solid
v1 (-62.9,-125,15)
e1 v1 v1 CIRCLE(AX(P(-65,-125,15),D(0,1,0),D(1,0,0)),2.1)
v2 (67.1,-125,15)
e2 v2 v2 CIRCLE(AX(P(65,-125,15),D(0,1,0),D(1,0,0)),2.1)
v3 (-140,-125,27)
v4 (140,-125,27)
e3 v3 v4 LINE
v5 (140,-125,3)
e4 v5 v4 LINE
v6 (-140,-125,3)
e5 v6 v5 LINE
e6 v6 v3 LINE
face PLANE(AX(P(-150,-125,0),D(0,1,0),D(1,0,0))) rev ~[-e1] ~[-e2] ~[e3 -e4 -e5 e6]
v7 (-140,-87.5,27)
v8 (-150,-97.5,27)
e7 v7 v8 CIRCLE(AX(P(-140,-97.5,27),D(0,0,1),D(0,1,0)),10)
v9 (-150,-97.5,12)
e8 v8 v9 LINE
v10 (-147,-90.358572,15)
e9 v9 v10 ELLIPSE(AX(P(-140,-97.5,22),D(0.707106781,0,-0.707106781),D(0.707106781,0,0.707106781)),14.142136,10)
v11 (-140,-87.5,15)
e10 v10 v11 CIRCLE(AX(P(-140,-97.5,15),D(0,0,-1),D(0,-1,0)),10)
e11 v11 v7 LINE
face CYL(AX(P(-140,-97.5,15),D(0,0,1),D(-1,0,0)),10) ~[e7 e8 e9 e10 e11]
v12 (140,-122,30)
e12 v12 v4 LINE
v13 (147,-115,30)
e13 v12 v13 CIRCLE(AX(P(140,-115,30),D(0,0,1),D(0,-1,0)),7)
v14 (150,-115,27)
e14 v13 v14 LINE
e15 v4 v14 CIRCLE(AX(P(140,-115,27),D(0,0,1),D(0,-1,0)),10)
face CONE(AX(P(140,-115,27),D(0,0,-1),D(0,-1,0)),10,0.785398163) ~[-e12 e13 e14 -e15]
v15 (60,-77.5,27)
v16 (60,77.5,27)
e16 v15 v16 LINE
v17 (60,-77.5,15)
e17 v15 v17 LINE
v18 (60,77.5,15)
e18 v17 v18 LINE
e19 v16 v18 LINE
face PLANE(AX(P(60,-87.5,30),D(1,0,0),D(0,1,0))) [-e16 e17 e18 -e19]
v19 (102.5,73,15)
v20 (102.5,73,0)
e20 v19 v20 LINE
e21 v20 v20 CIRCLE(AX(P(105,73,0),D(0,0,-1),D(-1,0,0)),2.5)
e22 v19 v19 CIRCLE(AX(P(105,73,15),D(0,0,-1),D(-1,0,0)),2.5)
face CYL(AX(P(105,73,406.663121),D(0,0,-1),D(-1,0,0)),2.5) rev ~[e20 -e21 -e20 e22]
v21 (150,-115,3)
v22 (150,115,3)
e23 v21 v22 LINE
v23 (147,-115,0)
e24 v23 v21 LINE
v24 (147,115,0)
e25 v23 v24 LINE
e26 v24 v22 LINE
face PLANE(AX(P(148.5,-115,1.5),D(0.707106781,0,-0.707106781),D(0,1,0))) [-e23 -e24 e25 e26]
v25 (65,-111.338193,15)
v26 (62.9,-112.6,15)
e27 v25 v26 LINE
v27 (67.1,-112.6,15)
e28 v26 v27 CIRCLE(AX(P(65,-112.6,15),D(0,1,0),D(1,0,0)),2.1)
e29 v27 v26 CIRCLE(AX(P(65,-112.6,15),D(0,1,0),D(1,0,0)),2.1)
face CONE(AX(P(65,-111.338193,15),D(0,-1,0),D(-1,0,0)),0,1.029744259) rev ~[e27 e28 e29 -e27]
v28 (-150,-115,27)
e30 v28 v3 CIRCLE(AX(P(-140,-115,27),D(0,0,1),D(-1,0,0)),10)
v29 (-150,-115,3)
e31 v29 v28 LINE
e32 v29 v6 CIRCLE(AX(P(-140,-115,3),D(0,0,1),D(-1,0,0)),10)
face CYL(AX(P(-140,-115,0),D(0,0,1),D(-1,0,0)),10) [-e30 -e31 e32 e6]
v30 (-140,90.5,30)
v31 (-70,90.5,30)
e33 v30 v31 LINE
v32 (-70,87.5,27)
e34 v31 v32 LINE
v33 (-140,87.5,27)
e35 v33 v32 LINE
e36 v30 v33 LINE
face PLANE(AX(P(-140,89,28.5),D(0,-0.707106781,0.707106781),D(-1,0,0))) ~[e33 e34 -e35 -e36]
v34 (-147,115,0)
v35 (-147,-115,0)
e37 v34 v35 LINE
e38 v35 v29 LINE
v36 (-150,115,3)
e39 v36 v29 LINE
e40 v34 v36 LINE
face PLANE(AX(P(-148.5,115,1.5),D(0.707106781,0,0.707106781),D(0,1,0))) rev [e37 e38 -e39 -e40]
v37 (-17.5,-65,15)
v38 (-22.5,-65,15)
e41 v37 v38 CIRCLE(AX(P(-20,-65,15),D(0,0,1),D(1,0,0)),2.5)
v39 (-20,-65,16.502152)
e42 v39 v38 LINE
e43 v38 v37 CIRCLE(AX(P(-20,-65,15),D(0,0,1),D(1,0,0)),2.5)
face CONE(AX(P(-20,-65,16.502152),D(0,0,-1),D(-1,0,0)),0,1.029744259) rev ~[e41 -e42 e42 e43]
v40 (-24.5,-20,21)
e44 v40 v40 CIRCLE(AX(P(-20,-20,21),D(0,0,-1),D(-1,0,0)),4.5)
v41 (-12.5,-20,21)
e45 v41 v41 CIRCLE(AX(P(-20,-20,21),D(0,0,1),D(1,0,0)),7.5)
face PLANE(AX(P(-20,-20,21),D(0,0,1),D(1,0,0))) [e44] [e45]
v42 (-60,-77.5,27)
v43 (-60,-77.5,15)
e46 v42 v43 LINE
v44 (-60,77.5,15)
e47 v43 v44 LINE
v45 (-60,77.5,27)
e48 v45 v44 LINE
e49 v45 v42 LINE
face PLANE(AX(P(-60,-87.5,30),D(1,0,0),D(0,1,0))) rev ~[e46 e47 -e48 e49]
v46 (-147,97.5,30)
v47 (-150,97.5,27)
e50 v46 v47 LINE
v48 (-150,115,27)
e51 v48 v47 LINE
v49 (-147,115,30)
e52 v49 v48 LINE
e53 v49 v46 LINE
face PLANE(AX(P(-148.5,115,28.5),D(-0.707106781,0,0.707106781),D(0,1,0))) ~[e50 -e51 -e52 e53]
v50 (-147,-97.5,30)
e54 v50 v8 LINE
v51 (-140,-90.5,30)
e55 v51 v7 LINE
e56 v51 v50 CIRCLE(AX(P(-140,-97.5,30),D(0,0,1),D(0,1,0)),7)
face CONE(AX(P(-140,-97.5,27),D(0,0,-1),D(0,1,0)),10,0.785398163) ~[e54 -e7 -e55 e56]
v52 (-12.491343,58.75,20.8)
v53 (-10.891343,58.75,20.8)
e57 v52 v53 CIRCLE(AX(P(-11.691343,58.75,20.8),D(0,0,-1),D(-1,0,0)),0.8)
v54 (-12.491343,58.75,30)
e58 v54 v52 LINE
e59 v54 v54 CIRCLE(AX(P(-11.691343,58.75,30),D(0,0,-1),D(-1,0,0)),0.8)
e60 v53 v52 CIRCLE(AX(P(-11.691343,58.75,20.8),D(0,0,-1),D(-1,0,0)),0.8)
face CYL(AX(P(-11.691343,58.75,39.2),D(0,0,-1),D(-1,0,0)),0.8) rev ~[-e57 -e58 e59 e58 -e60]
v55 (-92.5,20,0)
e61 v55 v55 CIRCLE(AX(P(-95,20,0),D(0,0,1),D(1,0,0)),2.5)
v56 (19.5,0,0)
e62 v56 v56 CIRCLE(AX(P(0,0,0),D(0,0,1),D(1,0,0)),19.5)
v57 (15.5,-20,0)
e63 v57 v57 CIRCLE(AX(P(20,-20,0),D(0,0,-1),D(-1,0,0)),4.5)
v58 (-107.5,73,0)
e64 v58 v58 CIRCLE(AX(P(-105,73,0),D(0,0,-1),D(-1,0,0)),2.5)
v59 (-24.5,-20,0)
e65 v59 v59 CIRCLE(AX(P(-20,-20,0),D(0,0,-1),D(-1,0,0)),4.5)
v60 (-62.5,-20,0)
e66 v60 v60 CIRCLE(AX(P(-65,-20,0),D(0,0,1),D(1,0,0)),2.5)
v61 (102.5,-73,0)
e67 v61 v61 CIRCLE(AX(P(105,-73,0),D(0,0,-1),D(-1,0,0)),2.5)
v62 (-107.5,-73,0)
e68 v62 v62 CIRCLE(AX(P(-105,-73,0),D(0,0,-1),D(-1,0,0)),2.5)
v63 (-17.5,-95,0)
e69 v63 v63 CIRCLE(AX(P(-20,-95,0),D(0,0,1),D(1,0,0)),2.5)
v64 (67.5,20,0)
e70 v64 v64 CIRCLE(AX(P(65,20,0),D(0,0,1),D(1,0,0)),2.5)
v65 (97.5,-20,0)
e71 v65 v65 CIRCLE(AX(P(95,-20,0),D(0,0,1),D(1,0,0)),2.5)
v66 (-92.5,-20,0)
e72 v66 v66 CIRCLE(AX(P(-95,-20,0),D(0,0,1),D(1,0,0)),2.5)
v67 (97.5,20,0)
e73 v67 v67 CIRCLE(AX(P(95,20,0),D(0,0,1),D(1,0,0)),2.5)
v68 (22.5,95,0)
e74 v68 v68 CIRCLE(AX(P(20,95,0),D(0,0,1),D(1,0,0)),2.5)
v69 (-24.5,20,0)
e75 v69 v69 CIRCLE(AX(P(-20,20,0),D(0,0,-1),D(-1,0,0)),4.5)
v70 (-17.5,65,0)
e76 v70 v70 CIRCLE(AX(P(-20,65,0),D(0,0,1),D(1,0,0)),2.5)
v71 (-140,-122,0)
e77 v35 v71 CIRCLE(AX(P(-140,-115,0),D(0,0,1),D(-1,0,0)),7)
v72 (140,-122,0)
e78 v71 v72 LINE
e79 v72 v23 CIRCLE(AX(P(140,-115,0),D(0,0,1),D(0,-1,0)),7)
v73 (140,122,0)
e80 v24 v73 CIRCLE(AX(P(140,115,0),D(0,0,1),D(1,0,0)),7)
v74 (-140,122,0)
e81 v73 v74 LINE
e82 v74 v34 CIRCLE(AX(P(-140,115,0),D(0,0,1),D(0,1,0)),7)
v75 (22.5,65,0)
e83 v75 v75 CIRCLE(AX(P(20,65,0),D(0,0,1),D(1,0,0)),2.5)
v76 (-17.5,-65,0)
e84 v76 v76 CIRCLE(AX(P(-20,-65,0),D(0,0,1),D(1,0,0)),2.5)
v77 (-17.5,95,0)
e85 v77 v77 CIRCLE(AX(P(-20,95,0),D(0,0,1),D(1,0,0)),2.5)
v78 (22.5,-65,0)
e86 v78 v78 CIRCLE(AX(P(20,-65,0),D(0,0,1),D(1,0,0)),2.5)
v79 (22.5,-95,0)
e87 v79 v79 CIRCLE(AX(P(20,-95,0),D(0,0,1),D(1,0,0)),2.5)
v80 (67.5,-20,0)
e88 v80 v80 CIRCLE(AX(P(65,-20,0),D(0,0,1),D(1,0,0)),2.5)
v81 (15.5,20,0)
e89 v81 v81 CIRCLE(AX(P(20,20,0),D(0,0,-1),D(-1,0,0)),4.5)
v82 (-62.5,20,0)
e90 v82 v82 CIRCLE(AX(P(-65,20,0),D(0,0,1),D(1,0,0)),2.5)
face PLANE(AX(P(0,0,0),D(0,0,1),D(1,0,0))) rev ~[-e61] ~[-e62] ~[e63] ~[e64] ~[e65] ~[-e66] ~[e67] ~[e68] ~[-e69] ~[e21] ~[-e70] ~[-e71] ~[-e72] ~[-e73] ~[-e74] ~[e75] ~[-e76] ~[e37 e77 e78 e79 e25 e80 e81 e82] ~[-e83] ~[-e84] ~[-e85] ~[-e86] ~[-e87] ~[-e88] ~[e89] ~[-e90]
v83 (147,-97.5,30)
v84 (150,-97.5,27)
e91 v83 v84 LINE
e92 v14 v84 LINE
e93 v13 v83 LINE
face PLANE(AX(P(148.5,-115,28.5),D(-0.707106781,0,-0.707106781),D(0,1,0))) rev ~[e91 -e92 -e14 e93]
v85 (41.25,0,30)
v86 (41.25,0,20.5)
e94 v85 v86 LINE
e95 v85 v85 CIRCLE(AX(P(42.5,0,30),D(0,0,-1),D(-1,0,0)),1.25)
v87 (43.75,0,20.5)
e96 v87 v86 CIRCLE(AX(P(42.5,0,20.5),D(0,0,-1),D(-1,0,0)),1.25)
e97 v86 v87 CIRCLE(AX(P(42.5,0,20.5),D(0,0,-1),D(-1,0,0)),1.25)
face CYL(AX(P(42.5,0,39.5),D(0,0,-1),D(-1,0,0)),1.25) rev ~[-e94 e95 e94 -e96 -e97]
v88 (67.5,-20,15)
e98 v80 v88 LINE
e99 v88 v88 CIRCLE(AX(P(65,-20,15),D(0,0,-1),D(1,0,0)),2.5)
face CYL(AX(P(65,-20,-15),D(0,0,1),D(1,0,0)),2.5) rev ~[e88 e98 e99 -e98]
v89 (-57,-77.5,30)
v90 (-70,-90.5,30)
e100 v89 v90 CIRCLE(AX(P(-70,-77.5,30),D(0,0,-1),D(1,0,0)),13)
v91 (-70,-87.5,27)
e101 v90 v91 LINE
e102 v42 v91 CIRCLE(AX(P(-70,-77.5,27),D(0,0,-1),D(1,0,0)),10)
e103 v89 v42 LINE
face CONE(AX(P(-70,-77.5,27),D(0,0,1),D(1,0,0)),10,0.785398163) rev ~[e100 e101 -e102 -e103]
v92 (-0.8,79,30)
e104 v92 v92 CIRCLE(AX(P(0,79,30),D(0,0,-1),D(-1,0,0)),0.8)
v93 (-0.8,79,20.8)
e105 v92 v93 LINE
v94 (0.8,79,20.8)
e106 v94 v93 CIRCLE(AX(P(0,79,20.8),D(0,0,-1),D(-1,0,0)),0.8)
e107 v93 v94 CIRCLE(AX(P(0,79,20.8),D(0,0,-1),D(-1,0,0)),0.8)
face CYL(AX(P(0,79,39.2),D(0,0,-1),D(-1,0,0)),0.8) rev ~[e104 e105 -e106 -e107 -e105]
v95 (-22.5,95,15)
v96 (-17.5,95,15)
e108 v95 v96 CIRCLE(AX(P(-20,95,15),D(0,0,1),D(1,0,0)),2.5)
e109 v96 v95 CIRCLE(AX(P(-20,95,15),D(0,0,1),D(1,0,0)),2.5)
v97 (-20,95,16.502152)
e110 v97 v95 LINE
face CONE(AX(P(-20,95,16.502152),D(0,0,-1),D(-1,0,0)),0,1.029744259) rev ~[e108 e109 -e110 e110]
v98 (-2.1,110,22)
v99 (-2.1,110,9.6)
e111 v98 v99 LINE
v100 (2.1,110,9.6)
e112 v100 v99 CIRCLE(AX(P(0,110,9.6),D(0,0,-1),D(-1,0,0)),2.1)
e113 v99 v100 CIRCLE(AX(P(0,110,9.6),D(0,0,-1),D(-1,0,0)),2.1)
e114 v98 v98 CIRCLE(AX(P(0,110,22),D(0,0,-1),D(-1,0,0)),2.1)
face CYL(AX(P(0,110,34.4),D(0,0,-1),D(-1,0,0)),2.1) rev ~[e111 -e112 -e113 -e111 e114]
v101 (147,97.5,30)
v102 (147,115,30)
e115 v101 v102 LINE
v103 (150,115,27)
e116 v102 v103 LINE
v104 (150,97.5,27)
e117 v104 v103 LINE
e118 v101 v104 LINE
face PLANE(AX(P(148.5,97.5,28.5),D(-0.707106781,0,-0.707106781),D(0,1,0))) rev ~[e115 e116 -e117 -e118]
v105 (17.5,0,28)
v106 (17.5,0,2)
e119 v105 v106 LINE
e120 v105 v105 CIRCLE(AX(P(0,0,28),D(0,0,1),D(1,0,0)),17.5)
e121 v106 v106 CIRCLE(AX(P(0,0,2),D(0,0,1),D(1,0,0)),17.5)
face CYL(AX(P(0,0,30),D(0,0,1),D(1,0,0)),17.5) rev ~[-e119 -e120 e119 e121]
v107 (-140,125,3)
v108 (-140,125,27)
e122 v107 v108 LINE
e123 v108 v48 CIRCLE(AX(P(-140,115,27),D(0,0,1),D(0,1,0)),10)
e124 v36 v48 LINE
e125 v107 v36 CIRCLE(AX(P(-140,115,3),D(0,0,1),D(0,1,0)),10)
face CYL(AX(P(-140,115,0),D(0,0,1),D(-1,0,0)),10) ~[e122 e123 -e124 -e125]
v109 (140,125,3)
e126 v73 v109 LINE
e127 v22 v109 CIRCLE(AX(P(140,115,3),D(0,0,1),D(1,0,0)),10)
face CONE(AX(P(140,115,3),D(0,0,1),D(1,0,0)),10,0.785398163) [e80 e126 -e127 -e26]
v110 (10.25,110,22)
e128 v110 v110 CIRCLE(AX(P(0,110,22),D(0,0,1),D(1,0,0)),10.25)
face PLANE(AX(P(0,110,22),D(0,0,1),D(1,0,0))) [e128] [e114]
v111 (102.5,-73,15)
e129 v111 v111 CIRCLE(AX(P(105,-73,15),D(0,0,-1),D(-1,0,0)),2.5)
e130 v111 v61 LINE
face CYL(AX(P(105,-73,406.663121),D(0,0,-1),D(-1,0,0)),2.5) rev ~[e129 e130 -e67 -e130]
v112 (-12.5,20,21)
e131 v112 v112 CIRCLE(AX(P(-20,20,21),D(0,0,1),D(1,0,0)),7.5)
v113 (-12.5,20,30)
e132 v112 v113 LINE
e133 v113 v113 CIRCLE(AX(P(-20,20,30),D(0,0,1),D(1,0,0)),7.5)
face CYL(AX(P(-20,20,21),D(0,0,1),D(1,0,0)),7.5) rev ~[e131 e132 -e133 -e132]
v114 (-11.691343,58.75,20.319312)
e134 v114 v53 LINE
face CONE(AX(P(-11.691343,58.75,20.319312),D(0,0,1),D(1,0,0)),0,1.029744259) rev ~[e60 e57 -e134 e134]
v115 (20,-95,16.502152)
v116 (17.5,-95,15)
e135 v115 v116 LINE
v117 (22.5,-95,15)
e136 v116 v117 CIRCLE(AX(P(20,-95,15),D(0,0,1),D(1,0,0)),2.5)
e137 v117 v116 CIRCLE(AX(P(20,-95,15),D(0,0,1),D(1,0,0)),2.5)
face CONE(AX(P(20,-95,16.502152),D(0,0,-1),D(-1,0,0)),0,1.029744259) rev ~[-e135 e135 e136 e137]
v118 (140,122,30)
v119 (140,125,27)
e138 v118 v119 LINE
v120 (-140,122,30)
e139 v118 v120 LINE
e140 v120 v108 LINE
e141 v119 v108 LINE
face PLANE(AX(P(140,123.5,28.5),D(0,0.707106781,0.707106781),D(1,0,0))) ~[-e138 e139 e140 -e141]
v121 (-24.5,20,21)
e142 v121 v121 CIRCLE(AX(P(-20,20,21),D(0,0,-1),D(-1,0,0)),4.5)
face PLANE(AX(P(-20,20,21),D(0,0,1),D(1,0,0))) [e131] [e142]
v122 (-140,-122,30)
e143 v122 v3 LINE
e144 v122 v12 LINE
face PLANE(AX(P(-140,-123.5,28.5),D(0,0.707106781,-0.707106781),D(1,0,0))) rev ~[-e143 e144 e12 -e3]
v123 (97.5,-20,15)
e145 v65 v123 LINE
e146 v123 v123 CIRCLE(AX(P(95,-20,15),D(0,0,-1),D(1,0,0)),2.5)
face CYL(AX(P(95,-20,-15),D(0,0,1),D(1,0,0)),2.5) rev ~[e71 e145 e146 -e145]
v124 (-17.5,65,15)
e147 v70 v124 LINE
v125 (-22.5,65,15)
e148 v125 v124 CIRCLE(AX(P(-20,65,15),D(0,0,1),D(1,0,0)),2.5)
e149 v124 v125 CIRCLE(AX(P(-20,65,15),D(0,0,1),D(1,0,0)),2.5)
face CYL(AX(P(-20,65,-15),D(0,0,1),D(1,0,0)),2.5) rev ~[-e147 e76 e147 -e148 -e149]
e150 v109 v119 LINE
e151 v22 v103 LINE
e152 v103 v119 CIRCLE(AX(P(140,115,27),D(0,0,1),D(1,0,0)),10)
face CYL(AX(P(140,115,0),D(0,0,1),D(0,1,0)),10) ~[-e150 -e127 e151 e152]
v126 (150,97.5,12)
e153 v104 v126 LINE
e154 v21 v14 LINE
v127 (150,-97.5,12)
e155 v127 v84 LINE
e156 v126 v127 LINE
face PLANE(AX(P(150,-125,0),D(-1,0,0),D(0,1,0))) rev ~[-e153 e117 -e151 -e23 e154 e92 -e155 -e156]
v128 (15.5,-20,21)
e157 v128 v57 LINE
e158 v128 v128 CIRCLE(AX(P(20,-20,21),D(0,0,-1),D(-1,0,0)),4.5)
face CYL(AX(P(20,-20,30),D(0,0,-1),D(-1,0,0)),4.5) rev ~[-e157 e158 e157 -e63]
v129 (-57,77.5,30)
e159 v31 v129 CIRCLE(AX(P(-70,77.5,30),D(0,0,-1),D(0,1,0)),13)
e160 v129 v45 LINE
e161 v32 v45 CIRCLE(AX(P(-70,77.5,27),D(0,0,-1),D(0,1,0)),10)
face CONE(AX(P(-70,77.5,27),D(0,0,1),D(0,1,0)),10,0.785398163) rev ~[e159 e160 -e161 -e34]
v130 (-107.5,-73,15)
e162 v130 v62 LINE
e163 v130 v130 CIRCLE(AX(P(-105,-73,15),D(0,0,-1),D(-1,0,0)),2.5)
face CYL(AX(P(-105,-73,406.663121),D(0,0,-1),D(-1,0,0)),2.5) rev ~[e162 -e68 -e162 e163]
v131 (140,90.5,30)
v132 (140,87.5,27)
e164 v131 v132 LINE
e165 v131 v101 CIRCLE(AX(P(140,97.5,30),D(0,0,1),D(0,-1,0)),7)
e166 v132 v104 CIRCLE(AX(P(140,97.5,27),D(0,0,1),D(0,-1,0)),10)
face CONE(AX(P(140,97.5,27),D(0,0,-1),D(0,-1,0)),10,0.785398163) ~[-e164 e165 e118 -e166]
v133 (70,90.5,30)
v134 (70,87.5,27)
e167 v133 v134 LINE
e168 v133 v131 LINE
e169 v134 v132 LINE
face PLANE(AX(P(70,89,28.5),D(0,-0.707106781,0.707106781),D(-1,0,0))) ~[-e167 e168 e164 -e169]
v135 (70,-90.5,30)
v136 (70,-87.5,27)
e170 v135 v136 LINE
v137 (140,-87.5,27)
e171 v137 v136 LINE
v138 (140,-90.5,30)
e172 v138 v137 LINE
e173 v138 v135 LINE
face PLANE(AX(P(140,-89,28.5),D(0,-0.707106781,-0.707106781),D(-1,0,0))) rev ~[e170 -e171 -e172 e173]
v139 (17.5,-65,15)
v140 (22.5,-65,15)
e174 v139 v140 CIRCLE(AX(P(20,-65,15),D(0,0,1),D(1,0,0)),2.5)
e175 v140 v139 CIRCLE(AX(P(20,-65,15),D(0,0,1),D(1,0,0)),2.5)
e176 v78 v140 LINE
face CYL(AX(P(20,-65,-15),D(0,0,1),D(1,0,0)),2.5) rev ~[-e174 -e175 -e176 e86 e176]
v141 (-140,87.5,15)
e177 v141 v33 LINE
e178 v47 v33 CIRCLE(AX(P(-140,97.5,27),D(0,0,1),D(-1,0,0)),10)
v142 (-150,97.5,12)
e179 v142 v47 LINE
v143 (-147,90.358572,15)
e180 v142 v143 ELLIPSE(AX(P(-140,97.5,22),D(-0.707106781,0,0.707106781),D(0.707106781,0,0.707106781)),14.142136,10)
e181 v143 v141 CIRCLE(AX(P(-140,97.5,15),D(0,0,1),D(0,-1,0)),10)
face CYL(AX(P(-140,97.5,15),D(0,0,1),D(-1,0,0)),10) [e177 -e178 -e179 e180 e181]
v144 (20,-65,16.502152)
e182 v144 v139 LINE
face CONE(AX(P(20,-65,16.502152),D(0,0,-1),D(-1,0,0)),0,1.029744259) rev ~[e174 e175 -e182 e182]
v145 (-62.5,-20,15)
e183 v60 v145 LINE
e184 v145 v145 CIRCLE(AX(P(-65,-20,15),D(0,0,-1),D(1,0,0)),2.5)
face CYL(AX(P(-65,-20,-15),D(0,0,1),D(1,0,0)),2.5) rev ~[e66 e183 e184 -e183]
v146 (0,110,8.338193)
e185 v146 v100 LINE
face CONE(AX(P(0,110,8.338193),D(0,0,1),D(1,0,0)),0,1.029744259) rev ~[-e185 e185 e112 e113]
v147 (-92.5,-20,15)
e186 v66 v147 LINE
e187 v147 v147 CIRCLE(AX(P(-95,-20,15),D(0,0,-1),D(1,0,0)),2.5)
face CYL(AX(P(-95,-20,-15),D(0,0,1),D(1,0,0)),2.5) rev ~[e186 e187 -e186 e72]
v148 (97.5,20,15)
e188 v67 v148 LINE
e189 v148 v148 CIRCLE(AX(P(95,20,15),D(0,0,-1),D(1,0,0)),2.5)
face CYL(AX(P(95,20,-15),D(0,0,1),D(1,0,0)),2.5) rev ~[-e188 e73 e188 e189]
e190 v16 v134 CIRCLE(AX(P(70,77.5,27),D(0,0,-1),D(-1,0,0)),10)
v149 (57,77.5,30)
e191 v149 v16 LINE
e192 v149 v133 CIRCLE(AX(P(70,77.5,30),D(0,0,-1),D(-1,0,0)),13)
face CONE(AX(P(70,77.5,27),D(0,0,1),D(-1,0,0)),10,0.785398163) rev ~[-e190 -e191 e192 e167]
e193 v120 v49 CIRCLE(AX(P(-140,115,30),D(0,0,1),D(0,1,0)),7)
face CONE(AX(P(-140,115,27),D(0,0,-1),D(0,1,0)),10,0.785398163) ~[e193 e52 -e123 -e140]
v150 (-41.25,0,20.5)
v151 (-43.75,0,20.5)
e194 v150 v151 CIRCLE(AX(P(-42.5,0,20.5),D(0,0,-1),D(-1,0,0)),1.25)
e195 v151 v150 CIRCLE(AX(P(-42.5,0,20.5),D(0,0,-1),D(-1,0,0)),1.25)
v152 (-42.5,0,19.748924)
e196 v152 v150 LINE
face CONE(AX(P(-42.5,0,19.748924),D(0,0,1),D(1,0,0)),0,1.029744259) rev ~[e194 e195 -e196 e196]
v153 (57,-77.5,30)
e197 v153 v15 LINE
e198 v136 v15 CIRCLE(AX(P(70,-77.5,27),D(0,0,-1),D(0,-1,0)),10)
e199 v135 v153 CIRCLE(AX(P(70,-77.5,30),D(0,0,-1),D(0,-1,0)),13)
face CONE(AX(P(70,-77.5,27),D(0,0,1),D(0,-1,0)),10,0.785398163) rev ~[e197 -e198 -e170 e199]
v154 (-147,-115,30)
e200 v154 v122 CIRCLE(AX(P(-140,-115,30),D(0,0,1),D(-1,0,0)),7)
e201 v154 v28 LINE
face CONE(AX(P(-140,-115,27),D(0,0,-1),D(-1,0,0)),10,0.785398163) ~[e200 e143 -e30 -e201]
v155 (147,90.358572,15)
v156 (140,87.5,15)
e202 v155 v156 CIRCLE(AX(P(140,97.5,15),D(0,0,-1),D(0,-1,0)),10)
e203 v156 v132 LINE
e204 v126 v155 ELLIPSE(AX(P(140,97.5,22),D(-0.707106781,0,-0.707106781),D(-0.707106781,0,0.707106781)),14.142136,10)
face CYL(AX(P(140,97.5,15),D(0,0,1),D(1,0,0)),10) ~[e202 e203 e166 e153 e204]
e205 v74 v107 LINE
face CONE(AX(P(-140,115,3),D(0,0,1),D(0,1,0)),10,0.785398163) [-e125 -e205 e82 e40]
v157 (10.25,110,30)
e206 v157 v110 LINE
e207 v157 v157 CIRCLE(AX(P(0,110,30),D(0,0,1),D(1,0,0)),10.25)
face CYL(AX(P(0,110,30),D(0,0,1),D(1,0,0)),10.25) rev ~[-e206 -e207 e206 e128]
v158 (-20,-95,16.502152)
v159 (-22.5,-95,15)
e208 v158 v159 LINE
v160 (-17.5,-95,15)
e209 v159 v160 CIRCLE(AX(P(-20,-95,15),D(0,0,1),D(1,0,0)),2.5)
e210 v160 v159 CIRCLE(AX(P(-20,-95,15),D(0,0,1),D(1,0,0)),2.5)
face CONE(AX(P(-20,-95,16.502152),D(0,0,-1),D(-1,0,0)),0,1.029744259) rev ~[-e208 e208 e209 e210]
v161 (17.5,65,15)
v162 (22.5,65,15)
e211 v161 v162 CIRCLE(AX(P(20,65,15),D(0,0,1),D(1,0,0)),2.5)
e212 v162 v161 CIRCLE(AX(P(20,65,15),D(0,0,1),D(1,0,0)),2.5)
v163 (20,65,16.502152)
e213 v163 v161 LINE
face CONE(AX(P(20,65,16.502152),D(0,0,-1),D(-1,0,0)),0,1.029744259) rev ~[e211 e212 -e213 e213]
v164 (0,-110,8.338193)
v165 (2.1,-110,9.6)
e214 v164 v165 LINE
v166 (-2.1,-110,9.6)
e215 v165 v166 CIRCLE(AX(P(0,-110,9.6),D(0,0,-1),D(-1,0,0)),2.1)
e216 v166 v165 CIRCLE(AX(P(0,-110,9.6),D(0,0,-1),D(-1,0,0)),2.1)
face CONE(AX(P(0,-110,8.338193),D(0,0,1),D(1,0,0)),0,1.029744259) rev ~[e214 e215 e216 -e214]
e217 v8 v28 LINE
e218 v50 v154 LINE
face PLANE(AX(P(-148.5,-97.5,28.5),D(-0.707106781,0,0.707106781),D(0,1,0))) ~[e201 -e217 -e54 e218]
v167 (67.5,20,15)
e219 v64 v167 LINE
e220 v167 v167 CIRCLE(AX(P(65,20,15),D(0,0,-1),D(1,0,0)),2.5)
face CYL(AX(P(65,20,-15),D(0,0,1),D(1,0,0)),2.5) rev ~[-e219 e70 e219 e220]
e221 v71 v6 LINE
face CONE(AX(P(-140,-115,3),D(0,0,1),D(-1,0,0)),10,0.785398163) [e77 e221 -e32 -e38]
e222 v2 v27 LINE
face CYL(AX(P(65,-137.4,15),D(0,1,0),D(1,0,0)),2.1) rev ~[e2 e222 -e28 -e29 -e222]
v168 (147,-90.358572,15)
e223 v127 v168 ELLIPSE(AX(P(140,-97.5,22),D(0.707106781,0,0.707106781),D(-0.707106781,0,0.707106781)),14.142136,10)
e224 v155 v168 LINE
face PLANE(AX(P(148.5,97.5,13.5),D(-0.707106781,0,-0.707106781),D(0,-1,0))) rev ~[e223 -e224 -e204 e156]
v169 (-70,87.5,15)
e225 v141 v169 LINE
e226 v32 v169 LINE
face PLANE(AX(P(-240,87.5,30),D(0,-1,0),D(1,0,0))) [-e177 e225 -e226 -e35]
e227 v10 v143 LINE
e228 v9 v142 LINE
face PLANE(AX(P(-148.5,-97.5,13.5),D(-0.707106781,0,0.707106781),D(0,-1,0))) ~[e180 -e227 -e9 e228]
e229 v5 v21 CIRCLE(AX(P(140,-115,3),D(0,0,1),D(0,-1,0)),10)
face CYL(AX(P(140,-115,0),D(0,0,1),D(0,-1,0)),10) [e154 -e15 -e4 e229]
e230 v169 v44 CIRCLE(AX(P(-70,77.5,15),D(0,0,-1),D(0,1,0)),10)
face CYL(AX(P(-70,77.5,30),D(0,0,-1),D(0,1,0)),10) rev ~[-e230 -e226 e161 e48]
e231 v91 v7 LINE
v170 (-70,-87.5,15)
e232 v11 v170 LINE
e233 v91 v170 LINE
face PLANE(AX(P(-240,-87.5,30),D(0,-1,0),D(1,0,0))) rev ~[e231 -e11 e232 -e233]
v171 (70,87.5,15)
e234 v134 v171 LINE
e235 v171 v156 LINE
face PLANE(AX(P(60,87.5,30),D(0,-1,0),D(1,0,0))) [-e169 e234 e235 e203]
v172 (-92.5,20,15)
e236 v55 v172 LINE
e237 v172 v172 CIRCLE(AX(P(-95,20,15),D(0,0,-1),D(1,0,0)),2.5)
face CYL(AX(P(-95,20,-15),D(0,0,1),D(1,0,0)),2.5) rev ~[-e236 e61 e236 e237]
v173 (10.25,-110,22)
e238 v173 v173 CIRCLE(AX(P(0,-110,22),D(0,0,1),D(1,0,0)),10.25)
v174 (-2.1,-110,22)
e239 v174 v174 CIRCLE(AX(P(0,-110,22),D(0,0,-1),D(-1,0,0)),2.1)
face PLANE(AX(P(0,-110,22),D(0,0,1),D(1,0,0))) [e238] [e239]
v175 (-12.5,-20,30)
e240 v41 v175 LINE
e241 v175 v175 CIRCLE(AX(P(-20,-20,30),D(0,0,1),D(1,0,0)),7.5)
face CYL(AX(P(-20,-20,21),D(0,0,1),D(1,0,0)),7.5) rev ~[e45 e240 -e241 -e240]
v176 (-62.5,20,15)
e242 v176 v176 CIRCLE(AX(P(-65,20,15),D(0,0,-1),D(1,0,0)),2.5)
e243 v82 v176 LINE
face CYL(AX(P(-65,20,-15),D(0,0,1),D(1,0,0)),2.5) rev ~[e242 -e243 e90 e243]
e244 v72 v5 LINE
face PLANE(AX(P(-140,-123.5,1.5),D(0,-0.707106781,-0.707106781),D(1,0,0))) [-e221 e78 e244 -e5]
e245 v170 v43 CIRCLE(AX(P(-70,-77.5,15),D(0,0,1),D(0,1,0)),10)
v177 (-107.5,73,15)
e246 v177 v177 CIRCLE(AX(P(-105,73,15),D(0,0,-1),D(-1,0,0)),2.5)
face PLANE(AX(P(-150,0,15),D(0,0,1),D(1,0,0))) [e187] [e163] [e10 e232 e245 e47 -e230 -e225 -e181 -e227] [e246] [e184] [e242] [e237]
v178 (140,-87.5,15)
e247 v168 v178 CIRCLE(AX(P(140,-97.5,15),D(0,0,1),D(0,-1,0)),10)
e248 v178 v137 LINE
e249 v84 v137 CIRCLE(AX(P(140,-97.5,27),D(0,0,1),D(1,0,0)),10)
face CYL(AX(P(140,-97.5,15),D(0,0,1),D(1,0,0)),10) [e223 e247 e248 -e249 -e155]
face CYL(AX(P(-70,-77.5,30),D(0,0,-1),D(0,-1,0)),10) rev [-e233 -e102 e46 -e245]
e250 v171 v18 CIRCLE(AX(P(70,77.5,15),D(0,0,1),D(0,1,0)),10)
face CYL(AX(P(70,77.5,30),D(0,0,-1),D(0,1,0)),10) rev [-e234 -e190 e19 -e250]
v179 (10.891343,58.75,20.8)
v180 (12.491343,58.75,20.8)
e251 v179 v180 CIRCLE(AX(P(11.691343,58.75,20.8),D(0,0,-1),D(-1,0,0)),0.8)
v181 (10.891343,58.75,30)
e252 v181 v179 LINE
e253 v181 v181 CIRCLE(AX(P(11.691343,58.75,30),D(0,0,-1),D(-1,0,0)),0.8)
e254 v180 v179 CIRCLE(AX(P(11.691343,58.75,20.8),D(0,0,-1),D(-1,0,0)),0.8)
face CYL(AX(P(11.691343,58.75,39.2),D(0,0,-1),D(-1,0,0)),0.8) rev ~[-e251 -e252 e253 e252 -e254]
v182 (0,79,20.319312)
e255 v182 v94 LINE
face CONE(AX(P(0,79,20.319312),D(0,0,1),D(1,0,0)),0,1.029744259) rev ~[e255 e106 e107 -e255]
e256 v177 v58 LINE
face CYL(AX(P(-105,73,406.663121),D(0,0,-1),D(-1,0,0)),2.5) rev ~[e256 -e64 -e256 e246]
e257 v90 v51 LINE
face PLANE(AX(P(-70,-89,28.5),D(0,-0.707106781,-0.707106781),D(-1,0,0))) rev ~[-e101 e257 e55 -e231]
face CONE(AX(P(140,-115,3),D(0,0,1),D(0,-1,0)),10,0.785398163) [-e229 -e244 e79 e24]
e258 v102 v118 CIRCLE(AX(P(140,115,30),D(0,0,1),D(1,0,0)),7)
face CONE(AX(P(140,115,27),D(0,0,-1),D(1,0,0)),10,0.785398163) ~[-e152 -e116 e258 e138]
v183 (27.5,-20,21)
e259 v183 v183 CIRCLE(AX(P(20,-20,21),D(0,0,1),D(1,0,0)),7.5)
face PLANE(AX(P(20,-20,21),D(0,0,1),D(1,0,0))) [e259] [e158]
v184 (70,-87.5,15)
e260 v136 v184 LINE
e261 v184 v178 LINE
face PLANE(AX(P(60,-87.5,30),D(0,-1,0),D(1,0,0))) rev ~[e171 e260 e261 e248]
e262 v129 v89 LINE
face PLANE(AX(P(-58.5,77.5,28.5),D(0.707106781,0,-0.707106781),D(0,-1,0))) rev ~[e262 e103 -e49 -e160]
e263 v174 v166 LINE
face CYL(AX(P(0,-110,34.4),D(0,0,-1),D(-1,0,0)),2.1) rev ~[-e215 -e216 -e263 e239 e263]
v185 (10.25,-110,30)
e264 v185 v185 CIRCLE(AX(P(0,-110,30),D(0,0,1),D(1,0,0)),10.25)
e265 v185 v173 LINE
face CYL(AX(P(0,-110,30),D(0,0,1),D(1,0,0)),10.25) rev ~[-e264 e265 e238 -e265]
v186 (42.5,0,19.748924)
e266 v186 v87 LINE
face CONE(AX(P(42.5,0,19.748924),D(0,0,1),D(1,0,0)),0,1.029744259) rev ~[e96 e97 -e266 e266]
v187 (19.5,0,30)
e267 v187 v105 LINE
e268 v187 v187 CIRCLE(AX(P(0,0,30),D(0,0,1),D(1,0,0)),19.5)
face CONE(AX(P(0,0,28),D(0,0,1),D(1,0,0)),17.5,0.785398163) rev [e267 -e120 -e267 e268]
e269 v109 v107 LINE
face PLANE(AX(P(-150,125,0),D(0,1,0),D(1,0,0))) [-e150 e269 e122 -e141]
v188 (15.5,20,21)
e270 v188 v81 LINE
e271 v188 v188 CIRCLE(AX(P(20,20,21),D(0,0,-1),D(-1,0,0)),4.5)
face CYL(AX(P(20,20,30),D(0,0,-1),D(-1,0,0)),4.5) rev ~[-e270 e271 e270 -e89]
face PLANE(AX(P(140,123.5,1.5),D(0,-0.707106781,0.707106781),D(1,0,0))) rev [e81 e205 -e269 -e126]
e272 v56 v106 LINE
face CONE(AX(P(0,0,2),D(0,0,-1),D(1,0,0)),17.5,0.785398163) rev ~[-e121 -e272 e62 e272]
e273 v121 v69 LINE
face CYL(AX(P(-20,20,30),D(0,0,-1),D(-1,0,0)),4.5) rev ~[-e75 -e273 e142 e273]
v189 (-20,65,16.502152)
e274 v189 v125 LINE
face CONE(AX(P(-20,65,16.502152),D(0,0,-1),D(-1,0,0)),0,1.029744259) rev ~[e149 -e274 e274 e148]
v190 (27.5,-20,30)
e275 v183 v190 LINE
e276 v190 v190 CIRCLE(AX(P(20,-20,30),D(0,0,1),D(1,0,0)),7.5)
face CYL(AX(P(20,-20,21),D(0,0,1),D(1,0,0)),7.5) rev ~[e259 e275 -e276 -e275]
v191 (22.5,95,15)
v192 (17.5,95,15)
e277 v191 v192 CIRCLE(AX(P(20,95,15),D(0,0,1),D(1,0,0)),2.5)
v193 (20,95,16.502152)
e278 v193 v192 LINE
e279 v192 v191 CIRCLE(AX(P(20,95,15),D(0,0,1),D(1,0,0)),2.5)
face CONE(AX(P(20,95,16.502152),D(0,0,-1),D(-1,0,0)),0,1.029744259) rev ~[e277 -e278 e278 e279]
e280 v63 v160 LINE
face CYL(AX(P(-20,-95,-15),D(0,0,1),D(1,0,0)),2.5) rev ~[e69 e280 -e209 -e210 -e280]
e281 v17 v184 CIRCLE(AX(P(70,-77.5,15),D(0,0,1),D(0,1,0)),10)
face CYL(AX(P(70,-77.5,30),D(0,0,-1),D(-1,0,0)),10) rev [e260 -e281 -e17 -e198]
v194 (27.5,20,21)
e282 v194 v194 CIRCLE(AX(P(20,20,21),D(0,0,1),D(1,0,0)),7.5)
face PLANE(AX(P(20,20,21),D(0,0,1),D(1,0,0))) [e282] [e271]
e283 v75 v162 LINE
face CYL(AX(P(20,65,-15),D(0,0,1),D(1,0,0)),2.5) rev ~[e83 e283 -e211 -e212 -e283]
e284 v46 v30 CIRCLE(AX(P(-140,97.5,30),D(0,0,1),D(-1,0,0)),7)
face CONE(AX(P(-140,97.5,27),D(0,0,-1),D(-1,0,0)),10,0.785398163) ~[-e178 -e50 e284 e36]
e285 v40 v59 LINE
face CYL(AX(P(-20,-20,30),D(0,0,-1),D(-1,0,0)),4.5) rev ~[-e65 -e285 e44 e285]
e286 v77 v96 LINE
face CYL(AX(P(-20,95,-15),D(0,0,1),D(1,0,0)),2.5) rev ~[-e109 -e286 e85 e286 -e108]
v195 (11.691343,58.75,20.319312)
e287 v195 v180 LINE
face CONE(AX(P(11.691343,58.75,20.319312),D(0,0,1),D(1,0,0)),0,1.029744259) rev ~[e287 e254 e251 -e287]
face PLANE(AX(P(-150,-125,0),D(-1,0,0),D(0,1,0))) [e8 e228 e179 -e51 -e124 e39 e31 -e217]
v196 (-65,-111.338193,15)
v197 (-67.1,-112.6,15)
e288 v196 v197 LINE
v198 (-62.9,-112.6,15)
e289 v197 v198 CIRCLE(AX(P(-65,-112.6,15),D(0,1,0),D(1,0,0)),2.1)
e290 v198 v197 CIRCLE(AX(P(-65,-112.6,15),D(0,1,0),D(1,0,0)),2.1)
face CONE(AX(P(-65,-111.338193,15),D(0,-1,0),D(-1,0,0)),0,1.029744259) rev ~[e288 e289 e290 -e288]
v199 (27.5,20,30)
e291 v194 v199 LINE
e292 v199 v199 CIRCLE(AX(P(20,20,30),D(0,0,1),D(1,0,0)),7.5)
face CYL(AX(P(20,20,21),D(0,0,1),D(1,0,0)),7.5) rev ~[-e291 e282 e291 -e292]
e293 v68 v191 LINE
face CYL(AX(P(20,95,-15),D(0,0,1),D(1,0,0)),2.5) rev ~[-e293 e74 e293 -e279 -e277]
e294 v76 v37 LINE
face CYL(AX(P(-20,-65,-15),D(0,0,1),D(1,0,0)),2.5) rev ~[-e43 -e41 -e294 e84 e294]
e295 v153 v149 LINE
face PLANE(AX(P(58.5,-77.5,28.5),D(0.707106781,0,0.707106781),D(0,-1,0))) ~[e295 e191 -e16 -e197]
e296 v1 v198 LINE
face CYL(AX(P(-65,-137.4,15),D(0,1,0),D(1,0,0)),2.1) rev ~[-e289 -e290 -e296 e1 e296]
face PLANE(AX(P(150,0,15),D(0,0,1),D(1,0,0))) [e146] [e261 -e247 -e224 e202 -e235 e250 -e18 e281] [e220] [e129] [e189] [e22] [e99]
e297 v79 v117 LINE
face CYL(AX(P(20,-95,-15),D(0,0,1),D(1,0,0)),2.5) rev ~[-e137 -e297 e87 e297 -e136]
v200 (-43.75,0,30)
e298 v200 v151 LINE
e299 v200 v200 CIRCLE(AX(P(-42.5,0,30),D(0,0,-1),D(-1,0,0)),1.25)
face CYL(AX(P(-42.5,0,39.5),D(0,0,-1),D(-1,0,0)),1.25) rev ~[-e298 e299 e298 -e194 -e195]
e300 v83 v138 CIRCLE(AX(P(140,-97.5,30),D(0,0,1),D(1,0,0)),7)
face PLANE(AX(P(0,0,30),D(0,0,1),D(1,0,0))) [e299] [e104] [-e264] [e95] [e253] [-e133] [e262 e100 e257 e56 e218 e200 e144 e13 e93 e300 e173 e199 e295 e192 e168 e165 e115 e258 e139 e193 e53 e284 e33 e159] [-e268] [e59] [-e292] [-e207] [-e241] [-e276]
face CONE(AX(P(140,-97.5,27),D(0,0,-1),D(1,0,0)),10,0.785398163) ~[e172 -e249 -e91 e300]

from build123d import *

# Parameters (mm, degrees)
SKETCH_1_W                = 300
SKETCH_1_H                = 250
EXTRUDE_1_DEPTH           = 30
SKETCH_2_W                = 180
SKETCH_2_H                = 175
CUT_EXTRUDE_1_DEPTH       = 15
FILLET_1_R                = 10
HOLE_WIZARD_1_D           = 9
HOLE_WIZARD_1_CBORE_D     = 15
HOLE_WIZARD_1_CBORE_DEPTH = 9
CHAMFER_1_SIZE            = 3
SKETCH_6_R                = 17.5
CUT_EXTRUDE_2_DEPTH       = 198.547462651
CHAMFER_2_SIZE            = 2
HOLE_WIZARD_M6_1_D        = 5
HOLE_WIZARD_M6_1_DEPTH    = 15
HOLE_WIZARD_M6_1_TIP      = 1.502151548
HOLE_WIZARD_M6_2_D        = 5
HOLE_WIZARD_M5_1_D        = 4.2
HOLE_WIZARD_M5_1_DEPTH    = 12.4
HOLE_WIZARD_M5_1_TIP      = 1.2618073
HOLE_WIZARD_M2_1_D        = 1.6
HOLE_WIZARD_M2_1_DEPTH    = 9.2
HOLE_WIZARD_M2_1_TIP      = 0.480688495
HOLE_WIZARD_M3_1_D        = 2.5
HOLE_WIZARD_M3_1_DEPTH    = 9.5
HOLE_WIZARD_M3_1_TIP      = 0.751075774
SKETCH_21_R               = 10.25
CUT_EXTRUDE_3_DEPTH       = 8
HOLE_WIZARD_M5_2_D        = 4.2
HOLE_WIZARD_M5_2_DEPTH    = 12.4
HOLE_WIZARD_M5_2_TIP      = 1.2618073


with BuildPart() as part:
    # 草图1 → 凸台-拉伸1 (new body)
    with BuildSketch(Plane.XY):
        Rectangle(SKETCH_1_W, SKETCH_1_H)
    extrude(amount=EXTRUDE_1_DEPTH)

    # 草图2 → 切除-拉伸1 (cut)
    with BuildSketch(Plane.XY.offset(30)):
        with Locations((-150, 0)):
            Rectangle(SKETCH_2_W, SKETCH_2_H)
        with Locations((150, 0)):
            Rectangle(SKETCH_2_W, SKETCH_2_H)
    extrude(amount=-CUT_EXTRUDE_1_DEPTH, mode=Mode.SUBTRACT)

    # 圆角1
    fillet_1_edges = [part.edges().sort_by_distance(p)[0] for p in [
        (-150, -87.5, 22.5),
        (-60, -87.5, 22.5),
        (-150, 87.5, 22.5),
        (-60, 87.5, 22.5),
        (150, 87.5, 22.5),
        (60, 87.5, 22.5),
        (150, -87.5, 22.5),
        (60, -87.5, 22.5),
        (150, -125, 15),
        (-150, -125, 15),
        (-150, 125, 15),
        (150, 125, 15),
    ]]
    fillet(fillet_1_edges, radius=FILLET_1_R)

    # 打孔尺寸(%根据)内六角圆柱头螺钉的类型1 (through all)
    with Locations(Plane.XY.offset(30)):
        with Locations((-20, 20), (20, 20), (20, -20), (-20, -20)):
            CounterBoreHole(HOLE_WIZARD_1_D / 2, HOLE_WIZARD_1_CBORE_D / 2, HOLE_WIZARD_1_CBORE_DEPTH)

    # 倒角1
    chamfer_1_edges = [part.edges().sort_by_distance(p)[0] for p in [
        (-150, 0, 15),
        (150, 0, 15),
        (0, -125, 0),
        (0, -125, 30),
        (150, 0, 0),
        (-150, 0, 0),
        (0, 125, 0),
        (-147.071067812, 122.071067812, 0),
        (147.071067812, 122.071067812, 0),
        (147.071067812, -122.071067812, 0),
        (-147.071067812, -122.071067812, 0),
        (-150, -106.25, 30),
        (-150, 106.25, 30),
        (-105, -87.5, 30),
        (150, -106.25, 30),
        (105, -87.5, 30),
        (60, 0, 30),
        (105, 87.5, 30),
        (150, 106.25, 30),
        (0, 125, 30),
        (-105, 87.5, 30),
        (-60, 0, 30),
        (-147.071067812, 90.428932188, 30),
        (-147.071067812, -90.428932188, 30),
        (147.071067812, 90.428932188, 30),
        (147.071067812, -90.428932188, 30),
        (-147.071067812, 122.071067812, 30),
        (147.071067812, 122.071067812, 30),
        (147.071067812, -122.071067812, 30),
        (-147.071067812, -122.071067812, 30),
        (62.928932188, -84.571067812, 30),
        (62.928932188, 84.571067812, 30),
        (-62.928932188, -84.571067812, 30),
        (-62.928932188, 84.571067812, 30),
    ]]
    chamfer(chamfer_1_edges, length=CHAMFER_1_SIZE)

    # 草图6 → 切除-拉伸2 (cut, through all)
    with BuildSketch(Plane.XY.offset(30)):
        Circle(SKETCH_6_R)
    extrude(amount=-CUT_EXTRUDE_2_DEPTH, mode=Mode.SUBTRACT)

    # 倒角2
    chamfer_2_edges = [part.edges().sort_by_distance(p)[0] for p in [
        (-17.5, 0, 0),
        (-17.5, 0, 30),
    ]]
    chamfer(chamfer_2_edges, length=CHAMFER_2_SIZE)

    # M6 螺纹孔1
    with Locations(Plane(origin=(0, 0, 0), x_dir=(-1, 0, 0), z_dir=(0, 0, -1))):
        with Locations((-20, 95), (20, -95), (-20, -95), (-20, -65), (20, -65), (65, -20), (95, -20), (95, 20), (65, 20), (-65, -20), (-95, -20), (-95, 20), (-65, 20), (20, 65), (20, 95), (-20, 65)):
            Hole(HOLE_WIZARD_M6_1_D / 2, depth=HOLE_WIZARD_M6_1_DEPTH)
            with Locations((0, 0, -(HOLE_WIZARD_M6_1_DEPTH + HOLE_WIZARD_M6_1_TIP / 2))):  # 118° drill point
                Cone(0, HOLE_WIZARD_M6_1_D / 2, HOLE_WIZARD_M6_1_TIP, mode=Mode.SUBTRACT)

    # M6 螺纹孔2 (through all)
    with Locations(Plane.XY.offset(15)):
        with Locations((-105, 73), (-105, -73), (105, 73), (105, -73)):
            Hole(HOLE_WIZARD_M6_2_D / 2)

    # M5 螺纹孔1
    with Locations(Plane(origin=(0, -125, 0), x_dir=(-1, 0, 0), z_dir=(0, -1, 0))):
        with Locations((65, -15), (-65, -15)):
            Hole(HOLE_WIZARD_M5_1_D / 2, depth=HOLE_WIZARD_M5_1_DEPTH)
            with Locations((0, 0, -(HOLE_WIZARD_M5_1_DEPTH + HOLE_WIZARD_M5_1_TIP / 2))):  # 118° drill point
                Cone(0, HOLE_WIZARD_M5_1_D / 2, HOLE_WIZARD_M5_1_TIP, mode=Mode.SUBTRACT)

    # M2 螺纹孔1
    with Locations(Plane.XY.offset(30)):
        with Locations((11.691342951, 58.75), (0, 79), (-11.691342951, 58.75)):
            Hole(HOLE_WIZARD_M2_1_D / 2, depth=HOLE_WIZARD_M2_1_DEPTH)
            with Locations((0, 0, -(HOLE_WIZARD_M2_1_DEPTH + HOLE_WIZARD_M2_1_TIP / 2))):  # 118° drill point
                Cone(0, HOLE_WIZARD_M2_1_D / 2, HOLE_WIZARD_M2_1_TIP, mode=Mode.SUBTRACT)

    # M3 螺纹孔1
    with Locations(Plane.XY.offset(30)):
        with Locations((-42.5, 0), (42.5, 0)):
            Hole(HOLE_WIZARD_M3_1_D / 2, depth=HOLE_WIZARD_M3_1_DEPTH)
            with Locations((0, 0, -(HOLE_WIZARD_M3_1_DEPTH + HOLE_WIZARD_M3_1_TIP / 2))):  # 118° drill point
                Cone(0, HOLE_WIZARD_M3_1_D / 2, HOLE_WIZARD_M3_1_TIP, mode=Mode.SUBTRACT)

    # 草图21 → 切除-拉伸3 (cut)
    with BuildSketch(Plane.XY.offset(30)):
        with Locations((0, 110)):
            Circle(SKETCH_21_R)
        with Locations((0, -110)):
            Circle(SKETCH_21_R)
    extrude(amount=-CUT_EXTRUDE_3_DEPTH, mode=Mode.SUBTRACT)

    # M5 螺纹孔2
    with Locations(Plane.XY.offset(22)):
        with Locations((0, -110), (0, 110)):
            Hole(HOLE_WIZARD_M5_2_D / 2, depth=HOLE_WIZARD_M5_2_DEPTH)
            with Locations((0, 0, -(HOLE_WIZARD_M5_2_DEPTH + HOLE_WIZARD_M5_2_TIP / 2))):  # 118° drill point
                Cone(0, HOLE_WIZARD_M5_2_D / 2, HOLE_WIZARD_M5_2_TIP, mode=Mode.SUBTRACT)


solid = part.part
